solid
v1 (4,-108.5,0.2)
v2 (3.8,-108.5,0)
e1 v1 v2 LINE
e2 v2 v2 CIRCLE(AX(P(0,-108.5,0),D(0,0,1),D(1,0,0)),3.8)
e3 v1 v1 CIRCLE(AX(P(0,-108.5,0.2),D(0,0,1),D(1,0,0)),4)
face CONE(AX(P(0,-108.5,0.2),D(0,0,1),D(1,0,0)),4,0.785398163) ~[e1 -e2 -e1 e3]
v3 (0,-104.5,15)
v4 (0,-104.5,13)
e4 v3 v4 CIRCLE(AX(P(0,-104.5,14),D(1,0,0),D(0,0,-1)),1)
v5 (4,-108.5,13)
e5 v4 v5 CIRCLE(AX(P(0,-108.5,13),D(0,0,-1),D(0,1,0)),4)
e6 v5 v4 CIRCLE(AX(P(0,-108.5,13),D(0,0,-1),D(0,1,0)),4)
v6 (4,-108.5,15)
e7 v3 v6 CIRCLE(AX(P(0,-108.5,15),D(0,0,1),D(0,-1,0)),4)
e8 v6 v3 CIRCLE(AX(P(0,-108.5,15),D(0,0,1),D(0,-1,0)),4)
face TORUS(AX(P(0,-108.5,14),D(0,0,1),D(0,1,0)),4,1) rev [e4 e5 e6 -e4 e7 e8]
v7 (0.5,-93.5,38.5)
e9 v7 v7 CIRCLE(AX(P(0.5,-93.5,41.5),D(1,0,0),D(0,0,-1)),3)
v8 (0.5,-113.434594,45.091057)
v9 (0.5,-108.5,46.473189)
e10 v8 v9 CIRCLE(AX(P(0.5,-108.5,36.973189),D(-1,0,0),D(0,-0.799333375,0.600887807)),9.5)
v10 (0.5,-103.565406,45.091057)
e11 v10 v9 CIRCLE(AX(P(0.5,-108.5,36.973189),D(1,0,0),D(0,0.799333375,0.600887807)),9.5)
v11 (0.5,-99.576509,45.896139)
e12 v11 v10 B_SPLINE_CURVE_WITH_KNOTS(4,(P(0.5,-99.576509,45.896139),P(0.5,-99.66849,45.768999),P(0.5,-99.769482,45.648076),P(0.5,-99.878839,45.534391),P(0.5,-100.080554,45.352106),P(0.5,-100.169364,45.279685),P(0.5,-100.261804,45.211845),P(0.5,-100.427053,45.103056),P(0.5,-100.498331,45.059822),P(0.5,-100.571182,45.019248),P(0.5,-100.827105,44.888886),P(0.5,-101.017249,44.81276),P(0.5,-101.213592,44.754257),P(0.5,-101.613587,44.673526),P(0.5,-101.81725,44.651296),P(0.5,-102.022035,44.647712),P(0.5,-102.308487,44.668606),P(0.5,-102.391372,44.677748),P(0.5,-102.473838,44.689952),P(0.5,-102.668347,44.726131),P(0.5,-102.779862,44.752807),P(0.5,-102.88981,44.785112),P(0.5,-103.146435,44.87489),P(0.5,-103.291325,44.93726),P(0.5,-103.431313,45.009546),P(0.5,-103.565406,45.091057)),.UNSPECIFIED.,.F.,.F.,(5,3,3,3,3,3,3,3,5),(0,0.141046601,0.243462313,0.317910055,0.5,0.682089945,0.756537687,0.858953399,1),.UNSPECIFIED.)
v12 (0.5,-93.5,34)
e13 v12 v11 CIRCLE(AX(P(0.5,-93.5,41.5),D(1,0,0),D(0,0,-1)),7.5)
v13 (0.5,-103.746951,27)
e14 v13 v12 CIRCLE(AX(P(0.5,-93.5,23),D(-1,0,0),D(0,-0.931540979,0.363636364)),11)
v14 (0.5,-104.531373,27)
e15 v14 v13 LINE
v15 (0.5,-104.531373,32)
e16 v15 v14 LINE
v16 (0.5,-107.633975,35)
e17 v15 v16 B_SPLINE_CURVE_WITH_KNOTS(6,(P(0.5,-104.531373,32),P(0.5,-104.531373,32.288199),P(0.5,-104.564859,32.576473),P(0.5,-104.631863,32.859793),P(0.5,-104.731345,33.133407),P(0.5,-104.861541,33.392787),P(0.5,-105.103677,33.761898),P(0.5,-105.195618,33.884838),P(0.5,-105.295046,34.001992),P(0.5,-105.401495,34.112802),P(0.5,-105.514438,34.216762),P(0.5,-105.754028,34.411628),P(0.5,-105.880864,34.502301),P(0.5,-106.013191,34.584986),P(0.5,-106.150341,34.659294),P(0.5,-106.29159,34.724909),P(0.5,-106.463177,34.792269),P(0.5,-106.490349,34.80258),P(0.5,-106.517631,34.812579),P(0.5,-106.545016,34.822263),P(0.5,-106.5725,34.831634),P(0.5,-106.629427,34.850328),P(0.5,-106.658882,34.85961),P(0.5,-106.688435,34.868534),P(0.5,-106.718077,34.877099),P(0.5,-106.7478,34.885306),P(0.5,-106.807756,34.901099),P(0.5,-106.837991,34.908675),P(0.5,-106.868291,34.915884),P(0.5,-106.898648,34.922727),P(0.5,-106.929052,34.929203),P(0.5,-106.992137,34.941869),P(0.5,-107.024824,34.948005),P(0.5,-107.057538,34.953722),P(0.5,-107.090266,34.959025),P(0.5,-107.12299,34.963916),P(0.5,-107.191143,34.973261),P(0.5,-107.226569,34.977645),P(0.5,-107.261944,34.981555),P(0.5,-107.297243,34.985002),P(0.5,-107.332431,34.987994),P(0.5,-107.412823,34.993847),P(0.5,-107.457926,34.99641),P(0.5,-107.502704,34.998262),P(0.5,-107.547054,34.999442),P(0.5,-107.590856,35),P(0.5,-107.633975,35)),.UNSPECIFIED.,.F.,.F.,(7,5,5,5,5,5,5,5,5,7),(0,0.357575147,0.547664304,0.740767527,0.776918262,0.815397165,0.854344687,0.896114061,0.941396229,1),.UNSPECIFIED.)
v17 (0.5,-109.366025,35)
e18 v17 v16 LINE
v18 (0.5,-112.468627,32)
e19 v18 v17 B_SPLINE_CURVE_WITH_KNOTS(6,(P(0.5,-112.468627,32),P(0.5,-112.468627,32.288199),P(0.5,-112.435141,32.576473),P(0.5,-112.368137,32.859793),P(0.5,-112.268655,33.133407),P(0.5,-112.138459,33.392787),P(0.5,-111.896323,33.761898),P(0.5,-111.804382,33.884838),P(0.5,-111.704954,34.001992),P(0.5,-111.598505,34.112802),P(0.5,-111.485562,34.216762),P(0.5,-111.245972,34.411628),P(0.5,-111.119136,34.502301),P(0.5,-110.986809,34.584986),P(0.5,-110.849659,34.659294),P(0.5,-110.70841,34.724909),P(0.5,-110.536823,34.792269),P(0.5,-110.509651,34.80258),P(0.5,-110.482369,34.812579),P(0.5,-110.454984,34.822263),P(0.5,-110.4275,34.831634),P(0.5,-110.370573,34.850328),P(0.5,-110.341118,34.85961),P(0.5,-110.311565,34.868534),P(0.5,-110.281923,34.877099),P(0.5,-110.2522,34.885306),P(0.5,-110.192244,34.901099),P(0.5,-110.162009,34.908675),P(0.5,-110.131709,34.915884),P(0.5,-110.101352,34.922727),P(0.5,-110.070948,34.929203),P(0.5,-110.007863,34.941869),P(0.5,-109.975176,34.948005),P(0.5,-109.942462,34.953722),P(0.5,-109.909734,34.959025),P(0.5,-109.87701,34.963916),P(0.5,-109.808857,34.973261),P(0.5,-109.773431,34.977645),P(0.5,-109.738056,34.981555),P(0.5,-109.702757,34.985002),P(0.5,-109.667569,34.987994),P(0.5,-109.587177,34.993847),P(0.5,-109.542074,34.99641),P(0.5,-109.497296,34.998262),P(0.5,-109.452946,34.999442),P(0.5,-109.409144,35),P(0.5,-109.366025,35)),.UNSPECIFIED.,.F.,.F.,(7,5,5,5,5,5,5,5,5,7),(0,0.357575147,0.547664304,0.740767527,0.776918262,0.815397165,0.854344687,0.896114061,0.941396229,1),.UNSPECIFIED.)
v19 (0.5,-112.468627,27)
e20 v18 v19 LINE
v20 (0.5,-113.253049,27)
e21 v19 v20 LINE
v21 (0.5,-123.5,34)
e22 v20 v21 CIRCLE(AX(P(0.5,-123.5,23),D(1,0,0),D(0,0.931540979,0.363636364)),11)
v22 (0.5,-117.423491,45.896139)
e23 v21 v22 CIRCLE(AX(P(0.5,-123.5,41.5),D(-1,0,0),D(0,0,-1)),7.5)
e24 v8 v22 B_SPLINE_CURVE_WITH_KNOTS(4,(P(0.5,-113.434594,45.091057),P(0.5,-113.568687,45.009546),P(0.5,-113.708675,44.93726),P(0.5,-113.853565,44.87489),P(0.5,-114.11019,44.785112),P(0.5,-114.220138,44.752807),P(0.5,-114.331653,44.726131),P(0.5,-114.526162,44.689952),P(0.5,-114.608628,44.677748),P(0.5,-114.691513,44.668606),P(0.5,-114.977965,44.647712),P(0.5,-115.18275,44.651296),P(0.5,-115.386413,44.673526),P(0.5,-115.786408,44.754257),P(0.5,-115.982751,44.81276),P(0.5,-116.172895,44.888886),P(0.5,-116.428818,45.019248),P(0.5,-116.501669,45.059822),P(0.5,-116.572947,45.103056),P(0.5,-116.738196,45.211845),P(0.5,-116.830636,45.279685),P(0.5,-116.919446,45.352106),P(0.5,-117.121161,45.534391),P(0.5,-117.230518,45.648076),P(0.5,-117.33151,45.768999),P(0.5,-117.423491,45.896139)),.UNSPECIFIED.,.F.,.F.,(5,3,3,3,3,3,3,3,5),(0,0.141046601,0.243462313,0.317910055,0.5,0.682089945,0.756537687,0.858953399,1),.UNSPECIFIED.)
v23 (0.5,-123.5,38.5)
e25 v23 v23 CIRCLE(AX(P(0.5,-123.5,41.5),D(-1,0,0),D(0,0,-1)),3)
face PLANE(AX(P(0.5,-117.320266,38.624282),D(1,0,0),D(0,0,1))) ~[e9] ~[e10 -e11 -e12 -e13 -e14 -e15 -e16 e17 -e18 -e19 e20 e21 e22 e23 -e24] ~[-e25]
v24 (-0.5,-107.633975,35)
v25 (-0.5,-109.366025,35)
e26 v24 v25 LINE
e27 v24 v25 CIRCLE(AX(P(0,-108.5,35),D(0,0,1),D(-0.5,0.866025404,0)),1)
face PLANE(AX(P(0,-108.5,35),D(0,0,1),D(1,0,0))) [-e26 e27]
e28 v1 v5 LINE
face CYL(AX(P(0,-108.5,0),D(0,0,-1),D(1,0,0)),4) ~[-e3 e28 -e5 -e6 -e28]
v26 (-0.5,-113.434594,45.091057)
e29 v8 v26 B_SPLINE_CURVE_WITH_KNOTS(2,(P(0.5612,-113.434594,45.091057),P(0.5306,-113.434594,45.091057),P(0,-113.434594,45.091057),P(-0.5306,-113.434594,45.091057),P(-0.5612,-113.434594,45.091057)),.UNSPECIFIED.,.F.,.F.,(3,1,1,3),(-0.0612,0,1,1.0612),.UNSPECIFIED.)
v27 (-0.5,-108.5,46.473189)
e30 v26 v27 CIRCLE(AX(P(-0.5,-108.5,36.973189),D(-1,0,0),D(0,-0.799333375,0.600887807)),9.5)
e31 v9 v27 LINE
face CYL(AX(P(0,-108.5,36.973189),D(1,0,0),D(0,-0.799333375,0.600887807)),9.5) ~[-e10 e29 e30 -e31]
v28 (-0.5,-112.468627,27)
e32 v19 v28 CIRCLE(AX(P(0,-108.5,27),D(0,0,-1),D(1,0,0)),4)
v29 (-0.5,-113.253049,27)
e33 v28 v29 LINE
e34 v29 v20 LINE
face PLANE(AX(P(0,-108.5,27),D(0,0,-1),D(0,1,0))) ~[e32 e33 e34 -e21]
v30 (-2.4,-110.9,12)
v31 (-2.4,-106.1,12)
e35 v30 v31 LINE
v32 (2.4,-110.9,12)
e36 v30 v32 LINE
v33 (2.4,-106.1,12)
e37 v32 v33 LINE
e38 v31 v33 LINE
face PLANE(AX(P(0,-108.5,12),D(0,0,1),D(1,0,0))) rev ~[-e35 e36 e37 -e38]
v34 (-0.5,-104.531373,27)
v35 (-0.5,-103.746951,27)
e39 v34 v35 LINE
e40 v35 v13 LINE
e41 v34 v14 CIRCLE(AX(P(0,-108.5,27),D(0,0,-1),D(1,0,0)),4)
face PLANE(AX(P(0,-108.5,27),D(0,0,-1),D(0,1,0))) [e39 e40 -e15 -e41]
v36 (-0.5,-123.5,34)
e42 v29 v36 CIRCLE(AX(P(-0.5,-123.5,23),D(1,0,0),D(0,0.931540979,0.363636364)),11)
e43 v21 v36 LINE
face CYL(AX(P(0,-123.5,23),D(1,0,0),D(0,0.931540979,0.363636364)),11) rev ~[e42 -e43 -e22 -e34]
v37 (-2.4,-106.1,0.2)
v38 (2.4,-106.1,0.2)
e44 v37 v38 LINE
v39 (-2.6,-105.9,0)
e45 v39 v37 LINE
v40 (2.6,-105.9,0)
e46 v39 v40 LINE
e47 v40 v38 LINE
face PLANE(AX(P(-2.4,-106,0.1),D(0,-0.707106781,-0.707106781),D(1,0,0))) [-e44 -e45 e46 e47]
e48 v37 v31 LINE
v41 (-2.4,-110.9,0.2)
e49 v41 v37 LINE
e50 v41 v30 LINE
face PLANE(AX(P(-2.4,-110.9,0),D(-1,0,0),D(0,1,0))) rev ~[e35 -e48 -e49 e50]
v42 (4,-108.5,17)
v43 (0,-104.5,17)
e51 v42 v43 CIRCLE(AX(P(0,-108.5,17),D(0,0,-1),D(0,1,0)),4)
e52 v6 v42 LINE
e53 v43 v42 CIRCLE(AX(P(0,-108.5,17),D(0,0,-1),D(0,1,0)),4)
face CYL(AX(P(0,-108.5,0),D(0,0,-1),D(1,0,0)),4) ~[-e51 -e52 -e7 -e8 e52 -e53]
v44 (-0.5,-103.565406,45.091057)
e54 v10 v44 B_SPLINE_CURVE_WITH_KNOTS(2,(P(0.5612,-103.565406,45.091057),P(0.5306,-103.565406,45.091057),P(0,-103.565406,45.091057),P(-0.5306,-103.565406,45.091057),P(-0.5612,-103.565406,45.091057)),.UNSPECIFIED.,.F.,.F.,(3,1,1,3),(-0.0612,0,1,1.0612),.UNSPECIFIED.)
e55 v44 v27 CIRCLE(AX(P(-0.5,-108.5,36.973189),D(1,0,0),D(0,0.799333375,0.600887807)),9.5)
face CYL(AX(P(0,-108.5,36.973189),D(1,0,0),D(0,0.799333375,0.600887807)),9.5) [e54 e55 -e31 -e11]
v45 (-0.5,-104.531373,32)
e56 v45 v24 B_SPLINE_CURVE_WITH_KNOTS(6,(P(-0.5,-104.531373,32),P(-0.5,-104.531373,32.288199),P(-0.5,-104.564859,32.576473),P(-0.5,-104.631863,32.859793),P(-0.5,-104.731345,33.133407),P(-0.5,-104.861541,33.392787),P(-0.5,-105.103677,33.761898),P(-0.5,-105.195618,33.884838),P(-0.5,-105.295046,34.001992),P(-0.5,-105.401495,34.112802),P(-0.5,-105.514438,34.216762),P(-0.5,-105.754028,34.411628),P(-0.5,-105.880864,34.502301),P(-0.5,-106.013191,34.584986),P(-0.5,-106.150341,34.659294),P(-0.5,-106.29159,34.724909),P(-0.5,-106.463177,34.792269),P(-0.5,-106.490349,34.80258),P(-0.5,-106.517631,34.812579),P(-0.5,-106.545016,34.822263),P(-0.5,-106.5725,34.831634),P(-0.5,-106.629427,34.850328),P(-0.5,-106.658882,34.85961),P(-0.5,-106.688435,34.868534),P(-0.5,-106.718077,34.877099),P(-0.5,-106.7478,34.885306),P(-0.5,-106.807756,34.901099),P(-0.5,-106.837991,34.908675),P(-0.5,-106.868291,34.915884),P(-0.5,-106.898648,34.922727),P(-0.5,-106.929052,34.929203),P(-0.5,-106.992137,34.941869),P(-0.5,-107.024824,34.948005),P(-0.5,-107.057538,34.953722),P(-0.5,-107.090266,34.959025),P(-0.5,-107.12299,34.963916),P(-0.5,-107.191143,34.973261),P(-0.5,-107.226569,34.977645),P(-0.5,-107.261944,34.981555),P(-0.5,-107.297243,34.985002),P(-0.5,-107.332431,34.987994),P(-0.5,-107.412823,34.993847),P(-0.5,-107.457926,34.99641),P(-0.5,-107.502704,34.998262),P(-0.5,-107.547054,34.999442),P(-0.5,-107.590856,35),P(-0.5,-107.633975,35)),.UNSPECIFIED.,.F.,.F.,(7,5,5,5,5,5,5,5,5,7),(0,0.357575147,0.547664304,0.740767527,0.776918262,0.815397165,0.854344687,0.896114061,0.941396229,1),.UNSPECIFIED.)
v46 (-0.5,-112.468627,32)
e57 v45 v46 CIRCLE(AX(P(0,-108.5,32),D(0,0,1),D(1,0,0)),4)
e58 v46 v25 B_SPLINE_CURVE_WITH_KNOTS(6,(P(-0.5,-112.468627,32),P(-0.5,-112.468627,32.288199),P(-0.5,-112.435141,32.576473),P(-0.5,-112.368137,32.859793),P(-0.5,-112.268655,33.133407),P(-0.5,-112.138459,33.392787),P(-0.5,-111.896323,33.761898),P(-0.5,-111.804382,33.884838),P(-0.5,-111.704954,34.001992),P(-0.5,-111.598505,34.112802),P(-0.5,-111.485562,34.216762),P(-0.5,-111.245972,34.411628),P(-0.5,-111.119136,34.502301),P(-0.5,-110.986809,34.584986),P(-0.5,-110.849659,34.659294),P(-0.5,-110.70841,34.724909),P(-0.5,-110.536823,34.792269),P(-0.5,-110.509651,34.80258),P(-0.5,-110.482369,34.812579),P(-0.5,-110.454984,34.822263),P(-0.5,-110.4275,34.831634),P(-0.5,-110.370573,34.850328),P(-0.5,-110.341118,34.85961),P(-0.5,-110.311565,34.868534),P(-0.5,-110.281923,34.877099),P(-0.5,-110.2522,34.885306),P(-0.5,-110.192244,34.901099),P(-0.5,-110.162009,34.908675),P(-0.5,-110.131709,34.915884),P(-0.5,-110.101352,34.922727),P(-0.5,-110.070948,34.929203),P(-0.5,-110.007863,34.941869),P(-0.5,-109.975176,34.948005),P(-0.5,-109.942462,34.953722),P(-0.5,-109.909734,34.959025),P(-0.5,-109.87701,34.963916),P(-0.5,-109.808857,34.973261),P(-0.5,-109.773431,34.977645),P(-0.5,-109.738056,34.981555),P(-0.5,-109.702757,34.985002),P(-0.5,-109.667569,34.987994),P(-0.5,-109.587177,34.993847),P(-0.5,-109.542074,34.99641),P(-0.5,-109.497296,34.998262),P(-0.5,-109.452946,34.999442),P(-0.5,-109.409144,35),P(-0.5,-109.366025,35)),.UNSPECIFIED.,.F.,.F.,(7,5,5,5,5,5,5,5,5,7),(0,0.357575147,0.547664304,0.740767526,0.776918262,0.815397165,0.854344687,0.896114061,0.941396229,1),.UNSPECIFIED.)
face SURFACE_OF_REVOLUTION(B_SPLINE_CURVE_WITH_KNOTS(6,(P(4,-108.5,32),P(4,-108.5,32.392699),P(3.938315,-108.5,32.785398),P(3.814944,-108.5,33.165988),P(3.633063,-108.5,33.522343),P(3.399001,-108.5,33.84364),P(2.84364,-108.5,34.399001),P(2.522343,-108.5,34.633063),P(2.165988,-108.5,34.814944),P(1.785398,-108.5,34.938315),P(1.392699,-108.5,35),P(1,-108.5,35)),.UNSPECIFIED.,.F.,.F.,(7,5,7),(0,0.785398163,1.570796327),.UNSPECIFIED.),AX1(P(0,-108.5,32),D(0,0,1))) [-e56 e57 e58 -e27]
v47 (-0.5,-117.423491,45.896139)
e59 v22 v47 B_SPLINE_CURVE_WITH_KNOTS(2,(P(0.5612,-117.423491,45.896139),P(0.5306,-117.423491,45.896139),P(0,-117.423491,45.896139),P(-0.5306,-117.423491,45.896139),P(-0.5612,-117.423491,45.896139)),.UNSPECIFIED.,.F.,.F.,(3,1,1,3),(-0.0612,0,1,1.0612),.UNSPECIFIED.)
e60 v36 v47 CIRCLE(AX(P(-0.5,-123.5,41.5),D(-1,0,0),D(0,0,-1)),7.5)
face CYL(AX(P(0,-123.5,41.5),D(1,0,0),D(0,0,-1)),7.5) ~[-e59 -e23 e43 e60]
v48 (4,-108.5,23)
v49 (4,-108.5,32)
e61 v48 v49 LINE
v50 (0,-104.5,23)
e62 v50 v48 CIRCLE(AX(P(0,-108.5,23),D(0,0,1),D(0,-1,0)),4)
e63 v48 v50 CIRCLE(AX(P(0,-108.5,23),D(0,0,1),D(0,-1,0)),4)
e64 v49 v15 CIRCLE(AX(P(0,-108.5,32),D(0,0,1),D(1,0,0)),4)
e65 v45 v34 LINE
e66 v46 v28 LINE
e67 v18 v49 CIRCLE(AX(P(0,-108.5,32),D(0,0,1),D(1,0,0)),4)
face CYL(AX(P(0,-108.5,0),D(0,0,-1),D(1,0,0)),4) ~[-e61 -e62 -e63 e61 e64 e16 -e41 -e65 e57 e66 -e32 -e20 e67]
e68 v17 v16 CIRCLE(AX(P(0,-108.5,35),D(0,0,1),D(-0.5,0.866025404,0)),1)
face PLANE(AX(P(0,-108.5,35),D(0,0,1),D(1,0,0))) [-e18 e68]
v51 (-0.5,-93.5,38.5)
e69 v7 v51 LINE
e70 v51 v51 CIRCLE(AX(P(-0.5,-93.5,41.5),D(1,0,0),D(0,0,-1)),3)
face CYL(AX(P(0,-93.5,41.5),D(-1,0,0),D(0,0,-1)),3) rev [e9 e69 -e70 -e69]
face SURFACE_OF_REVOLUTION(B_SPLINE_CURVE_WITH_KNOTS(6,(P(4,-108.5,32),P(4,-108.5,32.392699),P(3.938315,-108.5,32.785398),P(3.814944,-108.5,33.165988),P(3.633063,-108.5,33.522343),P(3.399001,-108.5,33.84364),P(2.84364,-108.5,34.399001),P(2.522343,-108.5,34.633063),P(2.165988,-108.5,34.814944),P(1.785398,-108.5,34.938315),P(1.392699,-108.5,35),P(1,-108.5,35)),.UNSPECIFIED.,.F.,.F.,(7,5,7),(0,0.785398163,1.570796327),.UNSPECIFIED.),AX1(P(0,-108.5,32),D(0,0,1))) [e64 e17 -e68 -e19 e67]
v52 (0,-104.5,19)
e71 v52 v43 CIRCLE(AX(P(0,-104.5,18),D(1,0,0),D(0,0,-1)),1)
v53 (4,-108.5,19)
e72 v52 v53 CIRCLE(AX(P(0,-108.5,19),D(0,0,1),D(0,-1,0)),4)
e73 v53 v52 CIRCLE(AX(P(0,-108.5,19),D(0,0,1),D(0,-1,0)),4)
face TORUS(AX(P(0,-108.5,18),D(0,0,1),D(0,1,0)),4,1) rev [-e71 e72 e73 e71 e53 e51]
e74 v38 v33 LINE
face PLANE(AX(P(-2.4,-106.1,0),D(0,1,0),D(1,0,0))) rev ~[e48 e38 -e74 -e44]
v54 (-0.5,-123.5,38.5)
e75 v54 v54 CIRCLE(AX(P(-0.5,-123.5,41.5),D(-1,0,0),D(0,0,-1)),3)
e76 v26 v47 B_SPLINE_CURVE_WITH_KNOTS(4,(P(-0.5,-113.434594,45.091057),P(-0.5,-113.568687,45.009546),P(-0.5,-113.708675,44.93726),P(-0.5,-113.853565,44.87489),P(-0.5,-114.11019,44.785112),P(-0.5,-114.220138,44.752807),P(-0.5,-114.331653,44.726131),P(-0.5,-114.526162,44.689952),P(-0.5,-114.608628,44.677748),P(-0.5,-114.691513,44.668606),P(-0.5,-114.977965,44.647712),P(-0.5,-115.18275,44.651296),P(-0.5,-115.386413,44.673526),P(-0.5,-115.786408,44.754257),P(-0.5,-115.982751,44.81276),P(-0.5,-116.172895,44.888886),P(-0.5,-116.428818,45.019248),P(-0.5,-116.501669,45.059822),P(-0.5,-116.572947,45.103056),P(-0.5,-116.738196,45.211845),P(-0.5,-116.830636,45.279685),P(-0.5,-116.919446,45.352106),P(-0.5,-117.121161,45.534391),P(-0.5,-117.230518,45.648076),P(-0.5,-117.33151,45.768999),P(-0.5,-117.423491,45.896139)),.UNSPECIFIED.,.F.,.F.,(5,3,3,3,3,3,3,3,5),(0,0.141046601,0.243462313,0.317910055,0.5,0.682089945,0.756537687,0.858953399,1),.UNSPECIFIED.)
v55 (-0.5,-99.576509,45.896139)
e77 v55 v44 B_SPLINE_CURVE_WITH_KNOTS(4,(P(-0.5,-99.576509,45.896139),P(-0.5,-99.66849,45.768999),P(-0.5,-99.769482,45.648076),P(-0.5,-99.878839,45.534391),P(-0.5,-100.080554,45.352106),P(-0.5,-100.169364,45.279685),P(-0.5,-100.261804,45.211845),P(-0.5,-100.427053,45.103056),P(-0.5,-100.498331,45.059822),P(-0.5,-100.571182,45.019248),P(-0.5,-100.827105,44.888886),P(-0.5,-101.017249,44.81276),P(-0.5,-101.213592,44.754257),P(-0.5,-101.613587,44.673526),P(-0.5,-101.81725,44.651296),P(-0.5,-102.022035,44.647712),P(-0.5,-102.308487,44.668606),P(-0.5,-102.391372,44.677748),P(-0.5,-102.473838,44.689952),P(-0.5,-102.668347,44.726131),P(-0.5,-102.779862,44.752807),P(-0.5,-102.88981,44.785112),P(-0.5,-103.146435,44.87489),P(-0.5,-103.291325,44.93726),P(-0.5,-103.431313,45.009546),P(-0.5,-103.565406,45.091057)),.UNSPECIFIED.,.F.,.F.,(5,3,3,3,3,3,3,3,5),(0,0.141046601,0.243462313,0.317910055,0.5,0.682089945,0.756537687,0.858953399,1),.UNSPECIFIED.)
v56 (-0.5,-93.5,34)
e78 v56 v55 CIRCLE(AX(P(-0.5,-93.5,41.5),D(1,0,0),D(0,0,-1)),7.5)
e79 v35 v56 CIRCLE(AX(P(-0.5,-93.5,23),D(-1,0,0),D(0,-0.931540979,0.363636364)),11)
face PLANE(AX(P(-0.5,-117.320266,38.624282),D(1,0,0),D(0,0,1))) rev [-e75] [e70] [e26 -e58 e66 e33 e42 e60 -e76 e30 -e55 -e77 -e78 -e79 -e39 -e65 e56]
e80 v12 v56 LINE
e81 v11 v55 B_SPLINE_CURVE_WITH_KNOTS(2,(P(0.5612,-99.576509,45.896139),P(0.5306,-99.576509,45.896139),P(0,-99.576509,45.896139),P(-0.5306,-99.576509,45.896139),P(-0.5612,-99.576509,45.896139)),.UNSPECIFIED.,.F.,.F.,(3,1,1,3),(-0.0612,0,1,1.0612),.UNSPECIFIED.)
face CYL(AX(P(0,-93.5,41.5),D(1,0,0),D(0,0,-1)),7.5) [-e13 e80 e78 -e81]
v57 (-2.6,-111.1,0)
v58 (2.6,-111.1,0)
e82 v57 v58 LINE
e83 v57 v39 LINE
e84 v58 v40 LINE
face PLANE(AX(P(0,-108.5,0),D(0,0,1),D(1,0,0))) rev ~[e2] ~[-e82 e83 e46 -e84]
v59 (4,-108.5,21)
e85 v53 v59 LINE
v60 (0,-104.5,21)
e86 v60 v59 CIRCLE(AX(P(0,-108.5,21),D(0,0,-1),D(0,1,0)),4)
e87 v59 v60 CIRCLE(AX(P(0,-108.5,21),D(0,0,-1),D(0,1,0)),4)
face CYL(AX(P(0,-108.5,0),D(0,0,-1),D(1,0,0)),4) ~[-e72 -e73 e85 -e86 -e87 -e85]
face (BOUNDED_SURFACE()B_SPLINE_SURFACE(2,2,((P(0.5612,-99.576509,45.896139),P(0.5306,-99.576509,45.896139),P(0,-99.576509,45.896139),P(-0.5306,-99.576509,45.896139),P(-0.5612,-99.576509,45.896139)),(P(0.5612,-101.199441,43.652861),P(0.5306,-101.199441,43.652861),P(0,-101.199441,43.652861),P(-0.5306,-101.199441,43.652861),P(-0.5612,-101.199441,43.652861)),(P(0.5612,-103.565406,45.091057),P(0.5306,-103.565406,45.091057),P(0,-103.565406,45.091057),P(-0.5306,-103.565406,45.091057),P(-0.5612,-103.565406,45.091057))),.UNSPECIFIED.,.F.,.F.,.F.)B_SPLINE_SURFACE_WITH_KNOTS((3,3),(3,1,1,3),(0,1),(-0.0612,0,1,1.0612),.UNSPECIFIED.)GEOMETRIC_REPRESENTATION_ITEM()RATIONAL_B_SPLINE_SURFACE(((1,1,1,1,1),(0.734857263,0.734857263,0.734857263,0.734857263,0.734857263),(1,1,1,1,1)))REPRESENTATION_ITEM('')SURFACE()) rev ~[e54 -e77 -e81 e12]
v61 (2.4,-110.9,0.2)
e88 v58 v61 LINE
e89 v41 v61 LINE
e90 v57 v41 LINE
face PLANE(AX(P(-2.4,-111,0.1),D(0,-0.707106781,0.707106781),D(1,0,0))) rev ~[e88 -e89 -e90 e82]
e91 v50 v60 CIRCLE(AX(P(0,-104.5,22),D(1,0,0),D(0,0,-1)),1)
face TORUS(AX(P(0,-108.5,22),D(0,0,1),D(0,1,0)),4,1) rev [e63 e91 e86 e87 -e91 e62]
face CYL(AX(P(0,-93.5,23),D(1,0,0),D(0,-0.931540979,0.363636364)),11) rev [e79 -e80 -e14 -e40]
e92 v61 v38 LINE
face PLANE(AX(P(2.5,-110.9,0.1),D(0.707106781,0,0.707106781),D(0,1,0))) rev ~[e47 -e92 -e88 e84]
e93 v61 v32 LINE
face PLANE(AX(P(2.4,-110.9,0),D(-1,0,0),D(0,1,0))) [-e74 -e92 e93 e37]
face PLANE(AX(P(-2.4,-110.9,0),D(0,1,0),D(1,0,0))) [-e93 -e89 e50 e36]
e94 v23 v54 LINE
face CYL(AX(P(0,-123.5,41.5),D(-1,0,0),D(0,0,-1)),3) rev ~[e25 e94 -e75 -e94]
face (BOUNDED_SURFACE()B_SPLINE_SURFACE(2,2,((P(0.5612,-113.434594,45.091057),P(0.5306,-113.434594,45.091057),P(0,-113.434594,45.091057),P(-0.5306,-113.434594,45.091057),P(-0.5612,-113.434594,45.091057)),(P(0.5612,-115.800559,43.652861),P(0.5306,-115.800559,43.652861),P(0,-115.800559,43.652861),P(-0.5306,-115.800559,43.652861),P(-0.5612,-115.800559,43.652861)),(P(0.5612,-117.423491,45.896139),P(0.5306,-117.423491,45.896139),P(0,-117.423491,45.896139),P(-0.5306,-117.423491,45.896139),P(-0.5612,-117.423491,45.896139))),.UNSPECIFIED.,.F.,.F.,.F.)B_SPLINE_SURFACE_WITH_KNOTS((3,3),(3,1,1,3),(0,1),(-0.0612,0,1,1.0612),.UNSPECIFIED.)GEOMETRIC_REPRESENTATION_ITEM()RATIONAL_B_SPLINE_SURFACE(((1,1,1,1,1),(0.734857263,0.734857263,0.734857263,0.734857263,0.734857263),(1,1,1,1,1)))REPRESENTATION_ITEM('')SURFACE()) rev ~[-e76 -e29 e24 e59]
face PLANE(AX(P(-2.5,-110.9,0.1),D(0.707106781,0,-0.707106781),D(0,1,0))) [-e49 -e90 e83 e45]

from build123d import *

# Parameters (mm, degrees)
SKETCH1_R           = 4
BOSS_EXTRUDE1_DEPTH = 35
FILLET1_R           = 3
SKETCH3_R           = 3
BOSS_EXTRUDE2_DEPTH = 0.5
FILLET2_R           = 3
SKETCH5_W           = 4.8
SKETCH5_H           = 4.8
CUT_EXTRUDE1_DEPTH  = 12
SKETCH6_R           = 1
CHAMFER1_SIZE       = 0.2


with BuildPart() as part:
    # Sketch1 → Boss-Extrude1 (new body)
    with BuildSketch(Plane.XY):
        with Locations((0, -108.5)):
            Circle(SKETCH1_R)
    extrude(amount=BOSS_EXTRUDE1_DEPTH)

    # Fillet1
    fillet1_edges = [part.edges().sort_by_distance(p)[0] for p in [
        (-4, -108.5, 35),
    ]]
    fillet(fillet1_edges, radius=FILLET1_R)

    # Sketch3 → Boss-Extrude2 (add, symmetric)
    with BuildSketch(Plane(origin=(0, 0, 0), x_dir=(0, 0, -1), z_dir=(1, 0, 0))):
        with BuildLine():
            Line((-46.473188612, -108.5), (-27, -108.5))
            Line((-27, -108.5), (-27, -103.746950766))
            ThreePointArc((-27, -103.746950766), (-32.082951062, -99.704836823), (-34, -93.5))
            ThreePointArc((-34, -93.5), (-46.36763953, -87.794205979), (-42.681622775, -100.90633294))
            ThreePointArc((-42.681622775, -100.90633294), (-45.47260402, -104.256188302), (-46.473188612, -108.5))
        make_face()
        with Locations((-41.5, -93.5)):
            Circle(SKETCH3_R, mode=Mode.SUBTRACT)
    boss_extrude2 = extrude(amount=BOSS_EXTRUDE2_DEPTH, both=True)

    # Mirror1: Boss-Extrude2 across plane
    add(boss_extrude2.mirror(Plane(origin=(0.5, -108.5, 46.473188612), x_dir=(0, 0, 1), z_dir=(0, 1, 0))))

    # Fillet2
    fillet2_edges = [part.edges().sort_by_distance(p)[0] for p in [
        (0, -100.90633294, 42.681622775),
        (0, -116.09366706, 42.681622775),
    ]]
    fillet(fillet2_edges, radius=FILLET2_R)

    # Sketch5 → Cut-Extrude1 (cut)
    with BuildSketch(Plane.XY):
        with Locations((0, -108.5)):
            Rectangle(SKETCH5_W, SKETCH5_H)
    extrude(amount=CUT_EXTRUDE1_DEPTH, mode=Mode.SUBTRACT)

    # Sketch6 → Cut-Revolve1 (revolve, cut)
    with BuildSketch(Plane(origin=(0, 0, 0), x_dir=(0, 0, -1), z_dir=(1, 0, 0))):
        with Locations((-14, -104.5)):
            Circle(SKETCH6_R)
        with Locations((-18, -104.5)):
            Circle(SKETCH6_R)
        with Locations((-22, -104.5)):
            Circle(SKETCH6_R)
    revolve(axis=Axis((0, -108.5, 35), (0, 0, -1)), mode=Mode.SUBTRACT)

    # Chamfer1
    chamfer1_edges = [part.edges().sort_by_distance(p)[0] for p in [
        (-4, -108.5, 0),
        (0, -106.1, 0),
        (-2.4, -108.5, 0),
        (0, -110.9, 0),
        (2.4, -108.5, 0),
    ]]
    chamfer(chamfer1_edges, length=CHAMFER1_SIZE)


solid = part.part
